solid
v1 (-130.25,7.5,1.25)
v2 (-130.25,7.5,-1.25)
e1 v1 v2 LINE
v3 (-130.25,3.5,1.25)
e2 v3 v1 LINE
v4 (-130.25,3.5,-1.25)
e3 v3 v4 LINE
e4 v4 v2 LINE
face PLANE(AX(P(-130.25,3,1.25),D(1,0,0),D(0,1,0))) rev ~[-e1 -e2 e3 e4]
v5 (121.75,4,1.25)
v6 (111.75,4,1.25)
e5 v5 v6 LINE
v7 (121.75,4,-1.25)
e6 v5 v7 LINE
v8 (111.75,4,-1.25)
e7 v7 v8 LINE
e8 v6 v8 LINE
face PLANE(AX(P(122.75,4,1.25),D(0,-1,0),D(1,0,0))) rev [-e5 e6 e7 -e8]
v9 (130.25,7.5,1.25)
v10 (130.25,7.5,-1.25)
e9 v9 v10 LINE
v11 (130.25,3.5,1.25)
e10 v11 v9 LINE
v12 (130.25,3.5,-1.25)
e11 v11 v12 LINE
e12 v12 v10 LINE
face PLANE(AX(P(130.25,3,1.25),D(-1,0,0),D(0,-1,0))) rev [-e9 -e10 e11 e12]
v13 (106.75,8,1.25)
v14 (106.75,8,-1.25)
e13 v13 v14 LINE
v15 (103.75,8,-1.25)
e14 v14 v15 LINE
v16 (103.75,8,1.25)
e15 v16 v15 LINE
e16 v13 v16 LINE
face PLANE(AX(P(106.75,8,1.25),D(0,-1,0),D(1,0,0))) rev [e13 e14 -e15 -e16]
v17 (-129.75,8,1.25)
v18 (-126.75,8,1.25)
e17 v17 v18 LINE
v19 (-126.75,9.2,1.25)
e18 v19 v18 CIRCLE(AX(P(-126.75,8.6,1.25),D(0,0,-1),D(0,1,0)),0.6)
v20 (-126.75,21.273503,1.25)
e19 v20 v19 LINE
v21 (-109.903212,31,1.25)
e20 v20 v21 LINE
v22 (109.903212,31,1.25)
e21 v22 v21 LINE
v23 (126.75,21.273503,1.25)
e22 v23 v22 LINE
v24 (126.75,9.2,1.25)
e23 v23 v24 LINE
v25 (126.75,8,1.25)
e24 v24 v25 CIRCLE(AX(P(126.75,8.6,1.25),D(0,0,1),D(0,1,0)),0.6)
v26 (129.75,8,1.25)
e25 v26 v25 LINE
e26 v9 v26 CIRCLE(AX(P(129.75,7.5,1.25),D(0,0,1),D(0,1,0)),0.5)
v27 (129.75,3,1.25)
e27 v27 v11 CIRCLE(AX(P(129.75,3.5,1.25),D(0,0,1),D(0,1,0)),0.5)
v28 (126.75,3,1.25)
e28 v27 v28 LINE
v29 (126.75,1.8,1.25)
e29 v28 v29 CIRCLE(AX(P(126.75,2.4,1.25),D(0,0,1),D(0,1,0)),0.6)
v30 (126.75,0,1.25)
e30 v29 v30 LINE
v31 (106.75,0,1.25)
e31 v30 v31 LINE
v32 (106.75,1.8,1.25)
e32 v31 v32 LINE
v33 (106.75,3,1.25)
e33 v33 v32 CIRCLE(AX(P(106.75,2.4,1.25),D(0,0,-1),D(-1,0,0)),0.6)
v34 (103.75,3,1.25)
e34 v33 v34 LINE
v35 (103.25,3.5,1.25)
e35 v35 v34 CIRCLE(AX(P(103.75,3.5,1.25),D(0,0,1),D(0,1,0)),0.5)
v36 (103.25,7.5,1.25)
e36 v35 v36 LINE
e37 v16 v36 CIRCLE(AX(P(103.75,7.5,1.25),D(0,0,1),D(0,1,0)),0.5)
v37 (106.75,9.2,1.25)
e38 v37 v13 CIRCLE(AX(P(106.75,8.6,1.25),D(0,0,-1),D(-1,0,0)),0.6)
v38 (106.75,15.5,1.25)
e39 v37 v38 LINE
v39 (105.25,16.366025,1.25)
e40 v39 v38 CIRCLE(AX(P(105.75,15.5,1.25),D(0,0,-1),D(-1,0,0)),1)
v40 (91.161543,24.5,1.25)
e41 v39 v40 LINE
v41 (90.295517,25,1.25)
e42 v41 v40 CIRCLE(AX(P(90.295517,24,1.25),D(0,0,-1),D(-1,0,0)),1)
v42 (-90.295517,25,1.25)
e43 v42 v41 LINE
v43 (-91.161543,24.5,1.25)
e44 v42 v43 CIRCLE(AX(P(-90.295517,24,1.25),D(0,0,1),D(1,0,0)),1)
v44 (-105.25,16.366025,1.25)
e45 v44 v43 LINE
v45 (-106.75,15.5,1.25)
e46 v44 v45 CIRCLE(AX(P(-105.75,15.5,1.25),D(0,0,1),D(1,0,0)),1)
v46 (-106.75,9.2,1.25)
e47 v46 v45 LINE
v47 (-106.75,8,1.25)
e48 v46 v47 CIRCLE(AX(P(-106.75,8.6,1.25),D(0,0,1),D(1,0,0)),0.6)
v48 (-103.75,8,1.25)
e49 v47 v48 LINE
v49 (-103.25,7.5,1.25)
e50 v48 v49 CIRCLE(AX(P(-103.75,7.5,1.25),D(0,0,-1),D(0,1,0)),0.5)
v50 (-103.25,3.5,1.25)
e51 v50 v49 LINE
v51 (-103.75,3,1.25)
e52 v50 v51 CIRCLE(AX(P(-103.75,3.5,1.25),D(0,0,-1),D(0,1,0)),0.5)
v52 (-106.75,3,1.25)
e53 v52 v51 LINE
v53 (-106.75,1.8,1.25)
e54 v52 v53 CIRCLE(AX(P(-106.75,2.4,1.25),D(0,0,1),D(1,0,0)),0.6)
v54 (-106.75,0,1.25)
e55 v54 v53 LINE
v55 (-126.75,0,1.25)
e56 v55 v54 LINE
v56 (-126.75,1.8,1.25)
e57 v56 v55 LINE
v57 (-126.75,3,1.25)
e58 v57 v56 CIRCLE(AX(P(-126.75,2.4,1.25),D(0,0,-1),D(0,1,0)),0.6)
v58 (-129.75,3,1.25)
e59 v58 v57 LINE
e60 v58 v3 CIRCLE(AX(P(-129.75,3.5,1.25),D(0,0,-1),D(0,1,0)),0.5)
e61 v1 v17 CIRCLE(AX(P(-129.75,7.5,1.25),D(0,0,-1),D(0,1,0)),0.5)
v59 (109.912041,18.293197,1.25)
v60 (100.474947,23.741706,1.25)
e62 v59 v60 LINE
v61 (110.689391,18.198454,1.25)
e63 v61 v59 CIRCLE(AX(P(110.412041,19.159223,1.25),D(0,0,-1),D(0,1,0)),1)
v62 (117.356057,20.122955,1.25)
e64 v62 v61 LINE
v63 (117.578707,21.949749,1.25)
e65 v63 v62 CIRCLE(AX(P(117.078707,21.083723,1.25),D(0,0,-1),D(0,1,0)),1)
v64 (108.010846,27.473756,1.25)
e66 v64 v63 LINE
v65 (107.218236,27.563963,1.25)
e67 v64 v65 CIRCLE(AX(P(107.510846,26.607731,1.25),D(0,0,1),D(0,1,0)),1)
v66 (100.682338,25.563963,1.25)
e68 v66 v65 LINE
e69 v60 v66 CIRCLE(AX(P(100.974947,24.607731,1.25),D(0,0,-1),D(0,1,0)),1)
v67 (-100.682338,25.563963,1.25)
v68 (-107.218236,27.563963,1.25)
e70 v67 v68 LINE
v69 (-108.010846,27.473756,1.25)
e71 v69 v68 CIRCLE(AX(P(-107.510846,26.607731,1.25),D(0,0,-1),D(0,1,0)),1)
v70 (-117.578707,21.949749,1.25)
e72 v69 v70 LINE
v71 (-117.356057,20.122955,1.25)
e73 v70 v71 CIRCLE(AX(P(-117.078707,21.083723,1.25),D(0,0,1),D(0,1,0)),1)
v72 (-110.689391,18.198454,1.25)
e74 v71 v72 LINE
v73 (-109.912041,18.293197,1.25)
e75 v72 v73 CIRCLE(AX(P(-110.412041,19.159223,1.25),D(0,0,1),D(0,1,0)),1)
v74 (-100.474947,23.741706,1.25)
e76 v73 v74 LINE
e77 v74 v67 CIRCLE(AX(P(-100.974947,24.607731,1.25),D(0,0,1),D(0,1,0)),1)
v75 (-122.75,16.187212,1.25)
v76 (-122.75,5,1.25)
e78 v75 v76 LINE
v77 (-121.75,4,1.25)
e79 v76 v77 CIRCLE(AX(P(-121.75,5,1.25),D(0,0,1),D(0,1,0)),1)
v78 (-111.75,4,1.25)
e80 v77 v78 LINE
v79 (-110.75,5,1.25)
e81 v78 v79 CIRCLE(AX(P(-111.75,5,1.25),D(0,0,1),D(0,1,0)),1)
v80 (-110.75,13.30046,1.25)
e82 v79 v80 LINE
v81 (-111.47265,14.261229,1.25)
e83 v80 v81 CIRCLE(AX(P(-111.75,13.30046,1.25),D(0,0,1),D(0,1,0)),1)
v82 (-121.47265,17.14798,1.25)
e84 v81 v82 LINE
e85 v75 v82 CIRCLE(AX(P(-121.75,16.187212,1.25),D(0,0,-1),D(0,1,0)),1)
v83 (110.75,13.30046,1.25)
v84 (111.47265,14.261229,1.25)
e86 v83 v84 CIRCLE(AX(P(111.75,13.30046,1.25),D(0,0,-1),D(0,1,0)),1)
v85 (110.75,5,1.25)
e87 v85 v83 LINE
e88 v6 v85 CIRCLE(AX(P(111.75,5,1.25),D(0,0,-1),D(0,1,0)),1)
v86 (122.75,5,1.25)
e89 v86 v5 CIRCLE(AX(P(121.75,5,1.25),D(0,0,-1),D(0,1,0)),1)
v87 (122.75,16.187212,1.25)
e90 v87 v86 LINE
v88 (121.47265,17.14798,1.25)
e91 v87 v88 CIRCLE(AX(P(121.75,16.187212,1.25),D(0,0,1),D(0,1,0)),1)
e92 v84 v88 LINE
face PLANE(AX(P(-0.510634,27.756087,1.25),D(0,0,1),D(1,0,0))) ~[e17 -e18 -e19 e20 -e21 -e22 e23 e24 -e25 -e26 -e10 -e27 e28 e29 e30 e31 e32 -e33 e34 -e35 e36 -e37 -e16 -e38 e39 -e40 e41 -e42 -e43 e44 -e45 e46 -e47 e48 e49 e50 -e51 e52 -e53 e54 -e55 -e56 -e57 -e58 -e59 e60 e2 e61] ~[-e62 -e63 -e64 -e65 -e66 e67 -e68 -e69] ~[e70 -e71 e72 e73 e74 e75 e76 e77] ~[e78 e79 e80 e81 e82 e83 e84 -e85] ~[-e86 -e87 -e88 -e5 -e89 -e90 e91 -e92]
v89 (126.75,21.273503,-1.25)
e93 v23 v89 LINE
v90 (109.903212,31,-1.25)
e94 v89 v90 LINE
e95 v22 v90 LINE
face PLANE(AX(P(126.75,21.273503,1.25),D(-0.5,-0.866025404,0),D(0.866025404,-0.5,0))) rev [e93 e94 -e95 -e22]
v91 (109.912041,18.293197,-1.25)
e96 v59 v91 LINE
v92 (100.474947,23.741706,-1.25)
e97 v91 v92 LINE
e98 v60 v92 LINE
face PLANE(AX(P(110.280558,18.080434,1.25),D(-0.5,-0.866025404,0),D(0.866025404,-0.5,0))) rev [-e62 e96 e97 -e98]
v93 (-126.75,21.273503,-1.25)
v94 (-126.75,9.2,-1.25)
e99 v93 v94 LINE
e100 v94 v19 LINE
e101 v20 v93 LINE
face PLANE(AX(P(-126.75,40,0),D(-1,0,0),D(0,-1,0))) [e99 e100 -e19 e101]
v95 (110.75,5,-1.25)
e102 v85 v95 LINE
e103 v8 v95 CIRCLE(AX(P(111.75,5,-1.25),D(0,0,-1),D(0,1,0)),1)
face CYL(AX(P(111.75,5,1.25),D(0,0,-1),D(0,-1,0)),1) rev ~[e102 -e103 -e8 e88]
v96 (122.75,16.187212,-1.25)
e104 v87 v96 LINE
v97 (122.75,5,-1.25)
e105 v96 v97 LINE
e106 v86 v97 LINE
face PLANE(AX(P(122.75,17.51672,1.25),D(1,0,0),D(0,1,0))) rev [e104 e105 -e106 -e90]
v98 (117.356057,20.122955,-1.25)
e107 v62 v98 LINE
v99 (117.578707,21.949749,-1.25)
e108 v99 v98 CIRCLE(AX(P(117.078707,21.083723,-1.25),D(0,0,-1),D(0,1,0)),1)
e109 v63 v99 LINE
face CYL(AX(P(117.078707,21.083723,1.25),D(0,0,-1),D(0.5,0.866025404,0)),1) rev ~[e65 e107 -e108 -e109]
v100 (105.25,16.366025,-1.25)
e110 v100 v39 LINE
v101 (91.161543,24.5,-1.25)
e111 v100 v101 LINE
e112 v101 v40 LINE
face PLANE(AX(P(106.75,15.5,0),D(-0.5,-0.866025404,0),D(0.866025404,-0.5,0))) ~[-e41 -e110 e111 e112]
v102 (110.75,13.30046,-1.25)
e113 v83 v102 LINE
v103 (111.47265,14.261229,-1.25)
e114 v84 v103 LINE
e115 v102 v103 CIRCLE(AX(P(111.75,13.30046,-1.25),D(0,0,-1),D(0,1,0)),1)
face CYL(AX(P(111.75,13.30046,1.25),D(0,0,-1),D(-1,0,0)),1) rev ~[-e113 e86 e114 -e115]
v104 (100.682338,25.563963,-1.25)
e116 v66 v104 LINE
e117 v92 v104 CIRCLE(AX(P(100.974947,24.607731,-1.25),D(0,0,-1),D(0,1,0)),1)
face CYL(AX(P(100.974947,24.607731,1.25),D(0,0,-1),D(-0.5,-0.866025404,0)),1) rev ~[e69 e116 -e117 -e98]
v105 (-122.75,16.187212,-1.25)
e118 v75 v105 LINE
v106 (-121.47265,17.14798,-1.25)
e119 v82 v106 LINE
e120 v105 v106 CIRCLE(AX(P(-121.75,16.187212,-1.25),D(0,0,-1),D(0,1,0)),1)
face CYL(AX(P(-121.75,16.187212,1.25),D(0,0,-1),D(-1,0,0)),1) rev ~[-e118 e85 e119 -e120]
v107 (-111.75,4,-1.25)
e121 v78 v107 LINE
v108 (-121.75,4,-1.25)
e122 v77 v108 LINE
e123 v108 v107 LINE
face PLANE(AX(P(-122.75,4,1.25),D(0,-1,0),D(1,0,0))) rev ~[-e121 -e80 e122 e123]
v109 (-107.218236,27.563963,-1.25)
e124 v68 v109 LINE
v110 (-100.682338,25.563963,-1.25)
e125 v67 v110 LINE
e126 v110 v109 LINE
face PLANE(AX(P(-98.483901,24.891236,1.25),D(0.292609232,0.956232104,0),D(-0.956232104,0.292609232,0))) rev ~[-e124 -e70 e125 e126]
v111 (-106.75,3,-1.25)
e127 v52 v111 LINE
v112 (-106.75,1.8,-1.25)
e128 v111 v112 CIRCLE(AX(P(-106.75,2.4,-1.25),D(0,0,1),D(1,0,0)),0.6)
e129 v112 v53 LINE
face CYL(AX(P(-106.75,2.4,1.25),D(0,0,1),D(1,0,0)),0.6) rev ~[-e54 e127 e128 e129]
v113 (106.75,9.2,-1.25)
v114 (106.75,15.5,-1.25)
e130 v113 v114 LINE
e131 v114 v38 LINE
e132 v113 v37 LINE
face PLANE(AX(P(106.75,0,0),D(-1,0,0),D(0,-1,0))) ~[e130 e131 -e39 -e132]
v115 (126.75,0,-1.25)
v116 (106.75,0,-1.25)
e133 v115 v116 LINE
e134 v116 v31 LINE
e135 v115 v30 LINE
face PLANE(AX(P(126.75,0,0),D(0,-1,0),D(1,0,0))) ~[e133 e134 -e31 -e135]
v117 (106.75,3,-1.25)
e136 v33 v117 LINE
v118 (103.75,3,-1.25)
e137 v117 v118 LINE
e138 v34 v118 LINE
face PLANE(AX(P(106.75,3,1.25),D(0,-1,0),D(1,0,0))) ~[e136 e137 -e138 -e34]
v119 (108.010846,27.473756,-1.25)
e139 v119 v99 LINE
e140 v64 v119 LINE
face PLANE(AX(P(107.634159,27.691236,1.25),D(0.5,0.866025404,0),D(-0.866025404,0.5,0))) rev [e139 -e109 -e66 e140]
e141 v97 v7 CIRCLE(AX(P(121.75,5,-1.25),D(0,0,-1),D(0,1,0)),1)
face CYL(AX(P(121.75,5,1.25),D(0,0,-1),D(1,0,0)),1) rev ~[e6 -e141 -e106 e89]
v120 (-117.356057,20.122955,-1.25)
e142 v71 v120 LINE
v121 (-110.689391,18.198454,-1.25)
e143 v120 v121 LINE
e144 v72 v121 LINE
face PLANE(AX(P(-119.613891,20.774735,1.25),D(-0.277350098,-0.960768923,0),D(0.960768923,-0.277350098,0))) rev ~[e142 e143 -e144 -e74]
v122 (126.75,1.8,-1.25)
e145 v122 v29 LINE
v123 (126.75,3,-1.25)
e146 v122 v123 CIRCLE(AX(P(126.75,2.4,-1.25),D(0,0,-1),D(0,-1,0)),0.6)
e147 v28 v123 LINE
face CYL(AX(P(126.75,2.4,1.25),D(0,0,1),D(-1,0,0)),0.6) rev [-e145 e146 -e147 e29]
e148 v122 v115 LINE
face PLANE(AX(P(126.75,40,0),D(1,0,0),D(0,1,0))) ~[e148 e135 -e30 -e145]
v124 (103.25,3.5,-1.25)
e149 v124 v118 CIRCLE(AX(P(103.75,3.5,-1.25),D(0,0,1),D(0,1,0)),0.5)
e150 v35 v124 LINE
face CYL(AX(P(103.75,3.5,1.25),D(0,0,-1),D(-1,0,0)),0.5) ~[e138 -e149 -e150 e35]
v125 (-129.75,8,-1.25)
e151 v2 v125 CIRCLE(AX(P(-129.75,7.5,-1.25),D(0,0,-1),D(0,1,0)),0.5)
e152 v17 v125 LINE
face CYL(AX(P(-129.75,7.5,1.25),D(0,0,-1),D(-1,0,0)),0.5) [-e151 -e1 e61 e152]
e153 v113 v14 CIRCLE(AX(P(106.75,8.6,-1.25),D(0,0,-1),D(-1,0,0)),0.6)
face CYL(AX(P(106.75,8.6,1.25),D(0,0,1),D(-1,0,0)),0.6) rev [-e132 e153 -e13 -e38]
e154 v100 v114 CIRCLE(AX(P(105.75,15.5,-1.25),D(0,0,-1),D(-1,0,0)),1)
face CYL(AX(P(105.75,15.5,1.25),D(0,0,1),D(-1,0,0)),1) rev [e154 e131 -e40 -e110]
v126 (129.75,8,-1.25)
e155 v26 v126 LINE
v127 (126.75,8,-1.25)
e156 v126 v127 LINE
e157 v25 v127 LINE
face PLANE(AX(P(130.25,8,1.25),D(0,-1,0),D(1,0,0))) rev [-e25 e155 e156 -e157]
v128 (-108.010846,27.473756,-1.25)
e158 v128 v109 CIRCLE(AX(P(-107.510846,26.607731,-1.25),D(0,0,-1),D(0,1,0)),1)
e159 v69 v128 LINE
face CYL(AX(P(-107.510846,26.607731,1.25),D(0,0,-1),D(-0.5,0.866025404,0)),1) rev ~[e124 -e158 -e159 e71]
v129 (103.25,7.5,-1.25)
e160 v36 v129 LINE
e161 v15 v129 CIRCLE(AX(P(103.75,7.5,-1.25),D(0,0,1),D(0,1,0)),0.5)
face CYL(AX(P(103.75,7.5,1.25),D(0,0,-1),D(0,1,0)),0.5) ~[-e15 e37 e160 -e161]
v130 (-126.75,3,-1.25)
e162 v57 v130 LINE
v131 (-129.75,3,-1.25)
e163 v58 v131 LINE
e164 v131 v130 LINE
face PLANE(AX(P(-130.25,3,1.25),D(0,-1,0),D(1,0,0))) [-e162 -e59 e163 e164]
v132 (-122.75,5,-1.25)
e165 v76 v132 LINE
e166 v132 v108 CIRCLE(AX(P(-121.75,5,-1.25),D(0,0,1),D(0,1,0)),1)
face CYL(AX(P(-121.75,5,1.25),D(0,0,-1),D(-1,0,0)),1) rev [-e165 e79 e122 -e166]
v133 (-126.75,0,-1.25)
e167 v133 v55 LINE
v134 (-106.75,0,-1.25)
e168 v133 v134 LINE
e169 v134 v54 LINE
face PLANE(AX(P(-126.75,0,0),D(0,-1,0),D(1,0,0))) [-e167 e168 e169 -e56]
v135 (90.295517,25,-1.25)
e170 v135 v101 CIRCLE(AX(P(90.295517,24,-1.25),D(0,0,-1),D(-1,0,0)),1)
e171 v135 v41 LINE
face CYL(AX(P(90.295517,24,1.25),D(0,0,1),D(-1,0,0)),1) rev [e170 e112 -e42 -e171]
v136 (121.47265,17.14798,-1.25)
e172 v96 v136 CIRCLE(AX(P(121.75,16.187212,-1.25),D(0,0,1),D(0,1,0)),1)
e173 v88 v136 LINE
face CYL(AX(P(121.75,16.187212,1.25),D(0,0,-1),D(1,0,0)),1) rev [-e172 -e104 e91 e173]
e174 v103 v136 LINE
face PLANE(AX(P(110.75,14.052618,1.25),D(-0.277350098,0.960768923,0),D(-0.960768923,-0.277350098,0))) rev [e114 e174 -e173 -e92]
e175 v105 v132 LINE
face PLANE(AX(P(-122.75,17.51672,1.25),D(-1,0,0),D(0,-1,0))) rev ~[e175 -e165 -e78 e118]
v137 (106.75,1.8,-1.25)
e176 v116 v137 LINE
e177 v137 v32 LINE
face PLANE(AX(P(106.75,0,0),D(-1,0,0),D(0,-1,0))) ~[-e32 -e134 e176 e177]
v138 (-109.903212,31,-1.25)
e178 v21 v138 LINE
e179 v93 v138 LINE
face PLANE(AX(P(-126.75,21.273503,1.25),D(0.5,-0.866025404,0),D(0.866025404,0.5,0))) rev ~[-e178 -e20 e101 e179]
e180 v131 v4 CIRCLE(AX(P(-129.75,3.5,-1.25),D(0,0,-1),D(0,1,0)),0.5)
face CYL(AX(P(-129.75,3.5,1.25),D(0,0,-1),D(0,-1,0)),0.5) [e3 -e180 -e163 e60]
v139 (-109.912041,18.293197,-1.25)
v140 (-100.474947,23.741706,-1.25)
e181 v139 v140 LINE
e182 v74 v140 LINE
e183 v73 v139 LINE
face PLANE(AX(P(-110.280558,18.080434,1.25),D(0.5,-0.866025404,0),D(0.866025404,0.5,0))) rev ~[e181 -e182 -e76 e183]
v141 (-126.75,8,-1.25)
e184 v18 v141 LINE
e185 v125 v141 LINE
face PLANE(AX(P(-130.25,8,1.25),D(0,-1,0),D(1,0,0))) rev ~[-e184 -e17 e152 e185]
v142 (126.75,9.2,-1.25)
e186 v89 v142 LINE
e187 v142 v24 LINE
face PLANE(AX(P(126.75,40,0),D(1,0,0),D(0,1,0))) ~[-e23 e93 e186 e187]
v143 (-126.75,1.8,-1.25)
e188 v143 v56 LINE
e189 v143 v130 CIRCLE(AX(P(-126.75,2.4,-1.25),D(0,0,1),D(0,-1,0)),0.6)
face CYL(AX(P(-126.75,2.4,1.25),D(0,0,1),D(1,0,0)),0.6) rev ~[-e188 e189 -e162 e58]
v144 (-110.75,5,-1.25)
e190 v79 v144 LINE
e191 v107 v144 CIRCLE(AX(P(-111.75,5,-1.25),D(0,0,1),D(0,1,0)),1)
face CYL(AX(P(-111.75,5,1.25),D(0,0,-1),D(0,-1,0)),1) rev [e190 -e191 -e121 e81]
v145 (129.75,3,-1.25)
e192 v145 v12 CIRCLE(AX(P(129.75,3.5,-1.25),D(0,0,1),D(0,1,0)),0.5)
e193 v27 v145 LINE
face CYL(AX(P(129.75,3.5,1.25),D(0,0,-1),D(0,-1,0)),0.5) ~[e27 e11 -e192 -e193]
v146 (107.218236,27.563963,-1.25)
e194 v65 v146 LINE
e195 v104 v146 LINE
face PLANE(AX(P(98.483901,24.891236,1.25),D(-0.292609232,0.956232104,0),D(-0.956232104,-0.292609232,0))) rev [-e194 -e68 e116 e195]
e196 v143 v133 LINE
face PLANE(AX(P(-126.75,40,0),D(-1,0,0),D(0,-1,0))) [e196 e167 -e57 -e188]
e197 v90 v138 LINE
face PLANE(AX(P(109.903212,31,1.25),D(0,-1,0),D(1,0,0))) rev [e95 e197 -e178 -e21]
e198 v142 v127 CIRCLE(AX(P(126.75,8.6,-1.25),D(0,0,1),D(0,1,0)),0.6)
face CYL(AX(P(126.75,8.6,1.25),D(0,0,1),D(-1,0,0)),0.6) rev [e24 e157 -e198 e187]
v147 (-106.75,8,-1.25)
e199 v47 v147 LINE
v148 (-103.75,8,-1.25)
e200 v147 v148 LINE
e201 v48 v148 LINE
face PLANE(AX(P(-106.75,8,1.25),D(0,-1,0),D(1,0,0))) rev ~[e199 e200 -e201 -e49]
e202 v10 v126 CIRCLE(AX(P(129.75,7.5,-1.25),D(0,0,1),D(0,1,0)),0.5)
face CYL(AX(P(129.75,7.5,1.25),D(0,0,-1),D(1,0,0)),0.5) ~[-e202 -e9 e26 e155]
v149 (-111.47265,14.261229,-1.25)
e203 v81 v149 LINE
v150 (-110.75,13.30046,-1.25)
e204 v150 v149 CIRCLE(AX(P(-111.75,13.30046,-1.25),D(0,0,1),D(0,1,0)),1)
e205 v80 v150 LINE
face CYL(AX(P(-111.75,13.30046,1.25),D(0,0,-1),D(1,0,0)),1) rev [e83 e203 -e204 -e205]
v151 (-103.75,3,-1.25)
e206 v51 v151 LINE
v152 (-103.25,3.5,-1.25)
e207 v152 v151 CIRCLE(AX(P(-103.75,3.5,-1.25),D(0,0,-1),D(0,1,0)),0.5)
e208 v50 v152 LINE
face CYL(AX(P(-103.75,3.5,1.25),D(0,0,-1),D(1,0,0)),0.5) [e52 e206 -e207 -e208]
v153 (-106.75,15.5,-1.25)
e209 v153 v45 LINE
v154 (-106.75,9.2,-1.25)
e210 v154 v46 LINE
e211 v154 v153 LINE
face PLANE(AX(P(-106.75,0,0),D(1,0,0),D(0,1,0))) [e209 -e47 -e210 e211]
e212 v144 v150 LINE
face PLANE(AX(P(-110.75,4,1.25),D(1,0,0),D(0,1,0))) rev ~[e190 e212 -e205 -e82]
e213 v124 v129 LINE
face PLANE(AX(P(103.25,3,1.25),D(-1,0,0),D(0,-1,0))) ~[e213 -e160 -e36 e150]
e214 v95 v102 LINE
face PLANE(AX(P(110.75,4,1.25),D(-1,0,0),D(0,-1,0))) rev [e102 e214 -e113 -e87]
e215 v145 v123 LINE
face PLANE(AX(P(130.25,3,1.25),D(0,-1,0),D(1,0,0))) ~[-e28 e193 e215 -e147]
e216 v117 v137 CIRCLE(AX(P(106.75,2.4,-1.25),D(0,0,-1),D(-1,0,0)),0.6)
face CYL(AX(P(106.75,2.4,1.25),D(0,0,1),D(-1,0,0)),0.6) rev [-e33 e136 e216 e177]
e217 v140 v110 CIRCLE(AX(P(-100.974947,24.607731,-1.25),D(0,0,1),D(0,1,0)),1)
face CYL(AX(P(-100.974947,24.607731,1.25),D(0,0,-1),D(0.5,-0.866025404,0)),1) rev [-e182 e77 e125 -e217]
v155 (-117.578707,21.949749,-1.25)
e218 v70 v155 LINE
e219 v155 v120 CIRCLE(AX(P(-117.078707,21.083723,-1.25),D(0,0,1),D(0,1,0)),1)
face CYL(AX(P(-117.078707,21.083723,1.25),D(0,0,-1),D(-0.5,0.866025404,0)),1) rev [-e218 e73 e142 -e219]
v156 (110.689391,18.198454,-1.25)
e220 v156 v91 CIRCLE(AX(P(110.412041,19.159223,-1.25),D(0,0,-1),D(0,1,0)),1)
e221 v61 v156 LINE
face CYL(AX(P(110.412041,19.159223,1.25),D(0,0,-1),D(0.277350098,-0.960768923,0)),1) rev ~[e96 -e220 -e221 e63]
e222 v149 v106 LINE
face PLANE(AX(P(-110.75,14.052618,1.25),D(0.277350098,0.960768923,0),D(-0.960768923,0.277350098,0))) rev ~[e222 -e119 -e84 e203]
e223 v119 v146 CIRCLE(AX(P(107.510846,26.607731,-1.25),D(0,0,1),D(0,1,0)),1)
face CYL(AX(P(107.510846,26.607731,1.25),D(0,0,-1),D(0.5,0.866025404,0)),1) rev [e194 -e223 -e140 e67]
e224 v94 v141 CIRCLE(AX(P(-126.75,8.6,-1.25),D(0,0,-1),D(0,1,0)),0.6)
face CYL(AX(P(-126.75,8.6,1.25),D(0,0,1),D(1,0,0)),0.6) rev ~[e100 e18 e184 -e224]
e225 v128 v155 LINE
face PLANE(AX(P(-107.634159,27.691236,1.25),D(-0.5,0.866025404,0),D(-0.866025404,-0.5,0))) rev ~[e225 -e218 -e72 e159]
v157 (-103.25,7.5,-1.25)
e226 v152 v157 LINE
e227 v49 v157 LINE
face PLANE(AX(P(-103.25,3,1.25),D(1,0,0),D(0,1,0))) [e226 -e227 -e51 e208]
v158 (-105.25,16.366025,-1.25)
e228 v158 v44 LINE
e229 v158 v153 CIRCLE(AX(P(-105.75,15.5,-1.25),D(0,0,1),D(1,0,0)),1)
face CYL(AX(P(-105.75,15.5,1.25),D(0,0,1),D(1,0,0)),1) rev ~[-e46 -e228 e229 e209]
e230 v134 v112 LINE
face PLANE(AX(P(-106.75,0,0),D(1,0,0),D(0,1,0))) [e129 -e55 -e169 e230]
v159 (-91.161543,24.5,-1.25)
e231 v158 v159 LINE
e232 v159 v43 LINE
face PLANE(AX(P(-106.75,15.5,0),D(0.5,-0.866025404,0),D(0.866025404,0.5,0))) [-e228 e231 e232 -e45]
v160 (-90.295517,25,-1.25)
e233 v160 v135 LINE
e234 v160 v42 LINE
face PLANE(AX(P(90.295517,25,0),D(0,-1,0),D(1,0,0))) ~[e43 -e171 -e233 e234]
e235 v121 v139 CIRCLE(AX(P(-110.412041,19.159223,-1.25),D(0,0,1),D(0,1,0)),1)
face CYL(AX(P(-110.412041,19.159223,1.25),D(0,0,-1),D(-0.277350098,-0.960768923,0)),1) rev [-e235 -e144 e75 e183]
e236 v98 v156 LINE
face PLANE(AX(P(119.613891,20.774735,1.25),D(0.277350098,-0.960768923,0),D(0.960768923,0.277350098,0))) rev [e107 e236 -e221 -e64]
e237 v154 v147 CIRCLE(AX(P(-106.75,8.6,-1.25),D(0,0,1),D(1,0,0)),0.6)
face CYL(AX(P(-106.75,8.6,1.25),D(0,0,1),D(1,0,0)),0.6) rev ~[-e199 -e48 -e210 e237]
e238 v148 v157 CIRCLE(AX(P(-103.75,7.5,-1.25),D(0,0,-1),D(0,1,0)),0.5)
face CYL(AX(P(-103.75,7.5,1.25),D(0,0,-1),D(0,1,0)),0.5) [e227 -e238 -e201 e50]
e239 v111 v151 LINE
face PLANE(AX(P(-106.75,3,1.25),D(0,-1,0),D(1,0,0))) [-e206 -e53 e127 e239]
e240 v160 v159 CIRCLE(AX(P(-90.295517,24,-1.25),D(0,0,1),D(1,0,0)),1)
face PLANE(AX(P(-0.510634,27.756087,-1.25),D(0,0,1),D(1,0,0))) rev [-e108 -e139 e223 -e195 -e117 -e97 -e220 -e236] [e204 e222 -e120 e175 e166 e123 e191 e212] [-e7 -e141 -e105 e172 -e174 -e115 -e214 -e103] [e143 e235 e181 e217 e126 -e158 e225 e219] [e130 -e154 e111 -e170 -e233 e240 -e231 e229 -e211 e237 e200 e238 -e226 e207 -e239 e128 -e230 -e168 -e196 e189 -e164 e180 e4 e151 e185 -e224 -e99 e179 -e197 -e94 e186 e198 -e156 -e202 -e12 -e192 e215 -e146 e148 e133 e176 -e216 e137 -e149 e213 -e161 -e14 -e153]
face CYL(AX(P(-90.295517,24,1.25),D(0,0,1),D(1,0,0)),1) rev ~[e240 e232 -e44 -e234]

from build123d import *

# Parameters (mm, degrees)
EXTRUDE_1_DEPTH     = 1.25
SKETCH_2_W          = 3.5
SKETCH_2_H          = 5
EXTRUDE_2_DEPTH     = 2.5
SKETCH_3_R          = 0.6
CUT_EXTRUDE_1_DEPTH = 3.5
FILLET_1_R          = 0.5
CUT_EXTRUDE_3_DEPTH = 3.5
CUT_EXTRUDE_5_DEPTH = 3.5
CUT_EXTRUDE_6_DEPTH = 3.5
FILLET_4_R          = 1
SKETCH_12_R         = 1
CUT_EXTRUDE_7_DEPTH = 3.5
SKETCH_13_W         = 157.663481756
SKETCH_13_H         = 52.44668755
CUT_EXTRUDE_8_DEPTH = 3.5


with BuildPart() as part:
    # 草图1 → 凸台-拉伸1 (new body, symmetric)
    with BuildSketch(Plane.XY):
        Polygon((-126.75, 40), (-126.75, 0), (-106.75, 0), (-106.75, 15.5), (-90.295517328, 25), (101.265172443, 25), (106.75, 15.5), (106.75, 0), (126.75, 0), (126.75, 40), align=None)
    extrude(amount=EXTRUDE_1_DEPTH, both=True)

    # 草图2 → 凸台-拉伸2 (add)
    with BuildSketch(Plane.XY.offset(1.25)):
        with Locations((-105, 5.5)):
            Rectangle(SKETCH_2_W, SKETCH_2_H)
        with Locations((105, 5.5)):
            Rectangle(SKETCH_2_W, SKETCH_2_H)
        with Locations((-128.5, 5.5)):
            Rectangle(SKETCH_2_W, SKETCH_2_H)
        with Locations((128.5, 5.5)):
            Rectangle(SKETCH_2_W, SKETCH_2_H)
    extrude(amount=-EXTRUDE_2_DEPTH)

    # 草图3 → 切除-拉伸1 (cut, through all)
    with BuildSketch(Plane.XY.offset(1.25)):
        with Locations((-106.75, 8.6)):
            Circle(SKETCH_3_R)
        with Locations((-106.75, 2.4)):
            Circle(SKETCH_3_R)
        with Locations((106.75, 8.6)):
            Circle(SKETCH_3_R)
        with Locations((106.75, 2.4)):
            Circle(SKETCH_3_R)
        with Locations((-126.75, 8.6)):
            Circle(SKETCH_3_R)
        with Locations((-126.75, 2.4)):
            Circle(SKETCH_3_R)
        with Locations((126.75, 8.6)):
            Circle(SKETCH_3_R)
        with Locations((126.75, 2.4)):
            Circle(SKETCH_3_R)
    extrude(amount=-CUT_EXTRUDE_1_DEPTH, mode=Mode.SUBTRACT)

    # 圆角1
    fillet_1_edges = [part.edges().sort_by_distance(p)[0] for p in [
        (-103.25, 8, 0),
        (-103.25, 3, 0),
        (103.25, 3, 0),
        (103.25, 8, 0),
        (-130.25, 3, 0),
        (-130.25, 8, 0),
        (130.25, 8, 0),
        (130.25, 3, 0),
    ]]
    fillet(fillet_1_edges, radius=FILLET_1_R)

    # 草图7 → 切除-拉伸3 (cut, through all)
    with BuildSketch(Plane.XY.offset(1.25)):
        Polygon((-126.75, 21.273502692), (-94.314755215, 40), (-126.75, 40), align=None)
        Polygon((109.925426481, 40), (126.75, 40), (126.75, 10.858983849), align=None)
    extrude(amount=-CUT_EXTRUDE_3_DEPTH, mode=Mode.SUBTRACT)

    # 草图10 → 切除-拉伸5 (cut, through all)
    with BuildSketch(Plane.XY.offset(1.25)):
        Polygon((-109.903212483, 31), (59.199644147, 31), (69.925426481, 40), (-94.314755215, 40), align=None)
    extrude(amount=-CUT_EXTRUDE_5_DEPTH, mode=Mode.SUBTRACT)

    # 草图11 → 切除-拉伸6 (cut, through all)
    with BuildSketch(Plane.XY.offset(1.25)):
        Polygon((-107.634159118, 27.691236417), (-119.613891029, 20.774734974), (-110.280557696, 18.080433718), (-98.483901379, 24.891236417), align=None)
        Polygon((-122.75, 17.516719654), (-122.75, 4), (-110.75, 4), (-110.75, 14.052618039), align=None)
        Polygon((122.75, 10.247330901), (122.75, 4), (110.75, 4), (110.75, 13.031940592), align=None)
    extrude(amount=-CUT_EXTRUDE_6_DEPTH, mode=Mode.SUBTRACT)

    # 圆角4
    fillet_4_edges = [part.edges().sort_by_distance(p)[0] for p in [
        (-107.634159118, 27.691236417, 0),
        (-98.483901379, 24.891236417, 0),
        (-110.280557696, 18.080433718, 0),
        (-119.613891029, 20.774734974, 0),
        (-110.75, 4, 0),
        (-122.75, 4, 0),
        (-122.75, 17.516719654, 0),
        (-110.75, 14.052618039, 0),
        (122.75, 4, 0),
        (110.75, 4, 0),
        (110.75, 13.031940592, 0),
        (122.75, 10.247330901, 0),
    ]]
    fillet(fillet_4_edges, radius=FILLET_4_R)

    # 草图12 → 切除-拉伸7 (cut, through all)
    with BuildSketch(Plane.XY.offset(1.25)):
        with Locations((-90.295517328, 24)):
            Circle(SKETCH_12_R)
        with Locations((-105.75, 15.5)):
            Circle(SKETCH_12_R)
        with Locations((59.199644147, 32)):
            Circle(SKETCH_12_R)
        with Locations((101.265172443, 24)):
            Circle(SKETCH_12_R)
        with Locations((105.75, 15.5)):
            Circle(SKETCH_12_R)
    extrude(amount=-CUT_EXTRUDE_7_DEPTH, mode=Mode.SUBTRACT)

    # 草图13 → 切除-拉伸8 (cut, through all)
    with BuildSketch(Plane.XY.offset(1.25)):
        with Locations((78.831740878, 26.223343775)):
            Rectangle(SKETCH_13_W, SKETCH_13_H)
    extrude(amount=-CUT_EXTRUDE_8_DEPTH, mode=Mode.SUBTRACT)

    # 镜向2: part across plane


with BuildPart() as part_1:
    add(part.part)
    add(part.part.mirror(Plane(origin=(0, 52.44668755, -1.25), x_dir=(0, 0, 1), z_dir=(-1, 0, 0))))


solid = part_1.part
